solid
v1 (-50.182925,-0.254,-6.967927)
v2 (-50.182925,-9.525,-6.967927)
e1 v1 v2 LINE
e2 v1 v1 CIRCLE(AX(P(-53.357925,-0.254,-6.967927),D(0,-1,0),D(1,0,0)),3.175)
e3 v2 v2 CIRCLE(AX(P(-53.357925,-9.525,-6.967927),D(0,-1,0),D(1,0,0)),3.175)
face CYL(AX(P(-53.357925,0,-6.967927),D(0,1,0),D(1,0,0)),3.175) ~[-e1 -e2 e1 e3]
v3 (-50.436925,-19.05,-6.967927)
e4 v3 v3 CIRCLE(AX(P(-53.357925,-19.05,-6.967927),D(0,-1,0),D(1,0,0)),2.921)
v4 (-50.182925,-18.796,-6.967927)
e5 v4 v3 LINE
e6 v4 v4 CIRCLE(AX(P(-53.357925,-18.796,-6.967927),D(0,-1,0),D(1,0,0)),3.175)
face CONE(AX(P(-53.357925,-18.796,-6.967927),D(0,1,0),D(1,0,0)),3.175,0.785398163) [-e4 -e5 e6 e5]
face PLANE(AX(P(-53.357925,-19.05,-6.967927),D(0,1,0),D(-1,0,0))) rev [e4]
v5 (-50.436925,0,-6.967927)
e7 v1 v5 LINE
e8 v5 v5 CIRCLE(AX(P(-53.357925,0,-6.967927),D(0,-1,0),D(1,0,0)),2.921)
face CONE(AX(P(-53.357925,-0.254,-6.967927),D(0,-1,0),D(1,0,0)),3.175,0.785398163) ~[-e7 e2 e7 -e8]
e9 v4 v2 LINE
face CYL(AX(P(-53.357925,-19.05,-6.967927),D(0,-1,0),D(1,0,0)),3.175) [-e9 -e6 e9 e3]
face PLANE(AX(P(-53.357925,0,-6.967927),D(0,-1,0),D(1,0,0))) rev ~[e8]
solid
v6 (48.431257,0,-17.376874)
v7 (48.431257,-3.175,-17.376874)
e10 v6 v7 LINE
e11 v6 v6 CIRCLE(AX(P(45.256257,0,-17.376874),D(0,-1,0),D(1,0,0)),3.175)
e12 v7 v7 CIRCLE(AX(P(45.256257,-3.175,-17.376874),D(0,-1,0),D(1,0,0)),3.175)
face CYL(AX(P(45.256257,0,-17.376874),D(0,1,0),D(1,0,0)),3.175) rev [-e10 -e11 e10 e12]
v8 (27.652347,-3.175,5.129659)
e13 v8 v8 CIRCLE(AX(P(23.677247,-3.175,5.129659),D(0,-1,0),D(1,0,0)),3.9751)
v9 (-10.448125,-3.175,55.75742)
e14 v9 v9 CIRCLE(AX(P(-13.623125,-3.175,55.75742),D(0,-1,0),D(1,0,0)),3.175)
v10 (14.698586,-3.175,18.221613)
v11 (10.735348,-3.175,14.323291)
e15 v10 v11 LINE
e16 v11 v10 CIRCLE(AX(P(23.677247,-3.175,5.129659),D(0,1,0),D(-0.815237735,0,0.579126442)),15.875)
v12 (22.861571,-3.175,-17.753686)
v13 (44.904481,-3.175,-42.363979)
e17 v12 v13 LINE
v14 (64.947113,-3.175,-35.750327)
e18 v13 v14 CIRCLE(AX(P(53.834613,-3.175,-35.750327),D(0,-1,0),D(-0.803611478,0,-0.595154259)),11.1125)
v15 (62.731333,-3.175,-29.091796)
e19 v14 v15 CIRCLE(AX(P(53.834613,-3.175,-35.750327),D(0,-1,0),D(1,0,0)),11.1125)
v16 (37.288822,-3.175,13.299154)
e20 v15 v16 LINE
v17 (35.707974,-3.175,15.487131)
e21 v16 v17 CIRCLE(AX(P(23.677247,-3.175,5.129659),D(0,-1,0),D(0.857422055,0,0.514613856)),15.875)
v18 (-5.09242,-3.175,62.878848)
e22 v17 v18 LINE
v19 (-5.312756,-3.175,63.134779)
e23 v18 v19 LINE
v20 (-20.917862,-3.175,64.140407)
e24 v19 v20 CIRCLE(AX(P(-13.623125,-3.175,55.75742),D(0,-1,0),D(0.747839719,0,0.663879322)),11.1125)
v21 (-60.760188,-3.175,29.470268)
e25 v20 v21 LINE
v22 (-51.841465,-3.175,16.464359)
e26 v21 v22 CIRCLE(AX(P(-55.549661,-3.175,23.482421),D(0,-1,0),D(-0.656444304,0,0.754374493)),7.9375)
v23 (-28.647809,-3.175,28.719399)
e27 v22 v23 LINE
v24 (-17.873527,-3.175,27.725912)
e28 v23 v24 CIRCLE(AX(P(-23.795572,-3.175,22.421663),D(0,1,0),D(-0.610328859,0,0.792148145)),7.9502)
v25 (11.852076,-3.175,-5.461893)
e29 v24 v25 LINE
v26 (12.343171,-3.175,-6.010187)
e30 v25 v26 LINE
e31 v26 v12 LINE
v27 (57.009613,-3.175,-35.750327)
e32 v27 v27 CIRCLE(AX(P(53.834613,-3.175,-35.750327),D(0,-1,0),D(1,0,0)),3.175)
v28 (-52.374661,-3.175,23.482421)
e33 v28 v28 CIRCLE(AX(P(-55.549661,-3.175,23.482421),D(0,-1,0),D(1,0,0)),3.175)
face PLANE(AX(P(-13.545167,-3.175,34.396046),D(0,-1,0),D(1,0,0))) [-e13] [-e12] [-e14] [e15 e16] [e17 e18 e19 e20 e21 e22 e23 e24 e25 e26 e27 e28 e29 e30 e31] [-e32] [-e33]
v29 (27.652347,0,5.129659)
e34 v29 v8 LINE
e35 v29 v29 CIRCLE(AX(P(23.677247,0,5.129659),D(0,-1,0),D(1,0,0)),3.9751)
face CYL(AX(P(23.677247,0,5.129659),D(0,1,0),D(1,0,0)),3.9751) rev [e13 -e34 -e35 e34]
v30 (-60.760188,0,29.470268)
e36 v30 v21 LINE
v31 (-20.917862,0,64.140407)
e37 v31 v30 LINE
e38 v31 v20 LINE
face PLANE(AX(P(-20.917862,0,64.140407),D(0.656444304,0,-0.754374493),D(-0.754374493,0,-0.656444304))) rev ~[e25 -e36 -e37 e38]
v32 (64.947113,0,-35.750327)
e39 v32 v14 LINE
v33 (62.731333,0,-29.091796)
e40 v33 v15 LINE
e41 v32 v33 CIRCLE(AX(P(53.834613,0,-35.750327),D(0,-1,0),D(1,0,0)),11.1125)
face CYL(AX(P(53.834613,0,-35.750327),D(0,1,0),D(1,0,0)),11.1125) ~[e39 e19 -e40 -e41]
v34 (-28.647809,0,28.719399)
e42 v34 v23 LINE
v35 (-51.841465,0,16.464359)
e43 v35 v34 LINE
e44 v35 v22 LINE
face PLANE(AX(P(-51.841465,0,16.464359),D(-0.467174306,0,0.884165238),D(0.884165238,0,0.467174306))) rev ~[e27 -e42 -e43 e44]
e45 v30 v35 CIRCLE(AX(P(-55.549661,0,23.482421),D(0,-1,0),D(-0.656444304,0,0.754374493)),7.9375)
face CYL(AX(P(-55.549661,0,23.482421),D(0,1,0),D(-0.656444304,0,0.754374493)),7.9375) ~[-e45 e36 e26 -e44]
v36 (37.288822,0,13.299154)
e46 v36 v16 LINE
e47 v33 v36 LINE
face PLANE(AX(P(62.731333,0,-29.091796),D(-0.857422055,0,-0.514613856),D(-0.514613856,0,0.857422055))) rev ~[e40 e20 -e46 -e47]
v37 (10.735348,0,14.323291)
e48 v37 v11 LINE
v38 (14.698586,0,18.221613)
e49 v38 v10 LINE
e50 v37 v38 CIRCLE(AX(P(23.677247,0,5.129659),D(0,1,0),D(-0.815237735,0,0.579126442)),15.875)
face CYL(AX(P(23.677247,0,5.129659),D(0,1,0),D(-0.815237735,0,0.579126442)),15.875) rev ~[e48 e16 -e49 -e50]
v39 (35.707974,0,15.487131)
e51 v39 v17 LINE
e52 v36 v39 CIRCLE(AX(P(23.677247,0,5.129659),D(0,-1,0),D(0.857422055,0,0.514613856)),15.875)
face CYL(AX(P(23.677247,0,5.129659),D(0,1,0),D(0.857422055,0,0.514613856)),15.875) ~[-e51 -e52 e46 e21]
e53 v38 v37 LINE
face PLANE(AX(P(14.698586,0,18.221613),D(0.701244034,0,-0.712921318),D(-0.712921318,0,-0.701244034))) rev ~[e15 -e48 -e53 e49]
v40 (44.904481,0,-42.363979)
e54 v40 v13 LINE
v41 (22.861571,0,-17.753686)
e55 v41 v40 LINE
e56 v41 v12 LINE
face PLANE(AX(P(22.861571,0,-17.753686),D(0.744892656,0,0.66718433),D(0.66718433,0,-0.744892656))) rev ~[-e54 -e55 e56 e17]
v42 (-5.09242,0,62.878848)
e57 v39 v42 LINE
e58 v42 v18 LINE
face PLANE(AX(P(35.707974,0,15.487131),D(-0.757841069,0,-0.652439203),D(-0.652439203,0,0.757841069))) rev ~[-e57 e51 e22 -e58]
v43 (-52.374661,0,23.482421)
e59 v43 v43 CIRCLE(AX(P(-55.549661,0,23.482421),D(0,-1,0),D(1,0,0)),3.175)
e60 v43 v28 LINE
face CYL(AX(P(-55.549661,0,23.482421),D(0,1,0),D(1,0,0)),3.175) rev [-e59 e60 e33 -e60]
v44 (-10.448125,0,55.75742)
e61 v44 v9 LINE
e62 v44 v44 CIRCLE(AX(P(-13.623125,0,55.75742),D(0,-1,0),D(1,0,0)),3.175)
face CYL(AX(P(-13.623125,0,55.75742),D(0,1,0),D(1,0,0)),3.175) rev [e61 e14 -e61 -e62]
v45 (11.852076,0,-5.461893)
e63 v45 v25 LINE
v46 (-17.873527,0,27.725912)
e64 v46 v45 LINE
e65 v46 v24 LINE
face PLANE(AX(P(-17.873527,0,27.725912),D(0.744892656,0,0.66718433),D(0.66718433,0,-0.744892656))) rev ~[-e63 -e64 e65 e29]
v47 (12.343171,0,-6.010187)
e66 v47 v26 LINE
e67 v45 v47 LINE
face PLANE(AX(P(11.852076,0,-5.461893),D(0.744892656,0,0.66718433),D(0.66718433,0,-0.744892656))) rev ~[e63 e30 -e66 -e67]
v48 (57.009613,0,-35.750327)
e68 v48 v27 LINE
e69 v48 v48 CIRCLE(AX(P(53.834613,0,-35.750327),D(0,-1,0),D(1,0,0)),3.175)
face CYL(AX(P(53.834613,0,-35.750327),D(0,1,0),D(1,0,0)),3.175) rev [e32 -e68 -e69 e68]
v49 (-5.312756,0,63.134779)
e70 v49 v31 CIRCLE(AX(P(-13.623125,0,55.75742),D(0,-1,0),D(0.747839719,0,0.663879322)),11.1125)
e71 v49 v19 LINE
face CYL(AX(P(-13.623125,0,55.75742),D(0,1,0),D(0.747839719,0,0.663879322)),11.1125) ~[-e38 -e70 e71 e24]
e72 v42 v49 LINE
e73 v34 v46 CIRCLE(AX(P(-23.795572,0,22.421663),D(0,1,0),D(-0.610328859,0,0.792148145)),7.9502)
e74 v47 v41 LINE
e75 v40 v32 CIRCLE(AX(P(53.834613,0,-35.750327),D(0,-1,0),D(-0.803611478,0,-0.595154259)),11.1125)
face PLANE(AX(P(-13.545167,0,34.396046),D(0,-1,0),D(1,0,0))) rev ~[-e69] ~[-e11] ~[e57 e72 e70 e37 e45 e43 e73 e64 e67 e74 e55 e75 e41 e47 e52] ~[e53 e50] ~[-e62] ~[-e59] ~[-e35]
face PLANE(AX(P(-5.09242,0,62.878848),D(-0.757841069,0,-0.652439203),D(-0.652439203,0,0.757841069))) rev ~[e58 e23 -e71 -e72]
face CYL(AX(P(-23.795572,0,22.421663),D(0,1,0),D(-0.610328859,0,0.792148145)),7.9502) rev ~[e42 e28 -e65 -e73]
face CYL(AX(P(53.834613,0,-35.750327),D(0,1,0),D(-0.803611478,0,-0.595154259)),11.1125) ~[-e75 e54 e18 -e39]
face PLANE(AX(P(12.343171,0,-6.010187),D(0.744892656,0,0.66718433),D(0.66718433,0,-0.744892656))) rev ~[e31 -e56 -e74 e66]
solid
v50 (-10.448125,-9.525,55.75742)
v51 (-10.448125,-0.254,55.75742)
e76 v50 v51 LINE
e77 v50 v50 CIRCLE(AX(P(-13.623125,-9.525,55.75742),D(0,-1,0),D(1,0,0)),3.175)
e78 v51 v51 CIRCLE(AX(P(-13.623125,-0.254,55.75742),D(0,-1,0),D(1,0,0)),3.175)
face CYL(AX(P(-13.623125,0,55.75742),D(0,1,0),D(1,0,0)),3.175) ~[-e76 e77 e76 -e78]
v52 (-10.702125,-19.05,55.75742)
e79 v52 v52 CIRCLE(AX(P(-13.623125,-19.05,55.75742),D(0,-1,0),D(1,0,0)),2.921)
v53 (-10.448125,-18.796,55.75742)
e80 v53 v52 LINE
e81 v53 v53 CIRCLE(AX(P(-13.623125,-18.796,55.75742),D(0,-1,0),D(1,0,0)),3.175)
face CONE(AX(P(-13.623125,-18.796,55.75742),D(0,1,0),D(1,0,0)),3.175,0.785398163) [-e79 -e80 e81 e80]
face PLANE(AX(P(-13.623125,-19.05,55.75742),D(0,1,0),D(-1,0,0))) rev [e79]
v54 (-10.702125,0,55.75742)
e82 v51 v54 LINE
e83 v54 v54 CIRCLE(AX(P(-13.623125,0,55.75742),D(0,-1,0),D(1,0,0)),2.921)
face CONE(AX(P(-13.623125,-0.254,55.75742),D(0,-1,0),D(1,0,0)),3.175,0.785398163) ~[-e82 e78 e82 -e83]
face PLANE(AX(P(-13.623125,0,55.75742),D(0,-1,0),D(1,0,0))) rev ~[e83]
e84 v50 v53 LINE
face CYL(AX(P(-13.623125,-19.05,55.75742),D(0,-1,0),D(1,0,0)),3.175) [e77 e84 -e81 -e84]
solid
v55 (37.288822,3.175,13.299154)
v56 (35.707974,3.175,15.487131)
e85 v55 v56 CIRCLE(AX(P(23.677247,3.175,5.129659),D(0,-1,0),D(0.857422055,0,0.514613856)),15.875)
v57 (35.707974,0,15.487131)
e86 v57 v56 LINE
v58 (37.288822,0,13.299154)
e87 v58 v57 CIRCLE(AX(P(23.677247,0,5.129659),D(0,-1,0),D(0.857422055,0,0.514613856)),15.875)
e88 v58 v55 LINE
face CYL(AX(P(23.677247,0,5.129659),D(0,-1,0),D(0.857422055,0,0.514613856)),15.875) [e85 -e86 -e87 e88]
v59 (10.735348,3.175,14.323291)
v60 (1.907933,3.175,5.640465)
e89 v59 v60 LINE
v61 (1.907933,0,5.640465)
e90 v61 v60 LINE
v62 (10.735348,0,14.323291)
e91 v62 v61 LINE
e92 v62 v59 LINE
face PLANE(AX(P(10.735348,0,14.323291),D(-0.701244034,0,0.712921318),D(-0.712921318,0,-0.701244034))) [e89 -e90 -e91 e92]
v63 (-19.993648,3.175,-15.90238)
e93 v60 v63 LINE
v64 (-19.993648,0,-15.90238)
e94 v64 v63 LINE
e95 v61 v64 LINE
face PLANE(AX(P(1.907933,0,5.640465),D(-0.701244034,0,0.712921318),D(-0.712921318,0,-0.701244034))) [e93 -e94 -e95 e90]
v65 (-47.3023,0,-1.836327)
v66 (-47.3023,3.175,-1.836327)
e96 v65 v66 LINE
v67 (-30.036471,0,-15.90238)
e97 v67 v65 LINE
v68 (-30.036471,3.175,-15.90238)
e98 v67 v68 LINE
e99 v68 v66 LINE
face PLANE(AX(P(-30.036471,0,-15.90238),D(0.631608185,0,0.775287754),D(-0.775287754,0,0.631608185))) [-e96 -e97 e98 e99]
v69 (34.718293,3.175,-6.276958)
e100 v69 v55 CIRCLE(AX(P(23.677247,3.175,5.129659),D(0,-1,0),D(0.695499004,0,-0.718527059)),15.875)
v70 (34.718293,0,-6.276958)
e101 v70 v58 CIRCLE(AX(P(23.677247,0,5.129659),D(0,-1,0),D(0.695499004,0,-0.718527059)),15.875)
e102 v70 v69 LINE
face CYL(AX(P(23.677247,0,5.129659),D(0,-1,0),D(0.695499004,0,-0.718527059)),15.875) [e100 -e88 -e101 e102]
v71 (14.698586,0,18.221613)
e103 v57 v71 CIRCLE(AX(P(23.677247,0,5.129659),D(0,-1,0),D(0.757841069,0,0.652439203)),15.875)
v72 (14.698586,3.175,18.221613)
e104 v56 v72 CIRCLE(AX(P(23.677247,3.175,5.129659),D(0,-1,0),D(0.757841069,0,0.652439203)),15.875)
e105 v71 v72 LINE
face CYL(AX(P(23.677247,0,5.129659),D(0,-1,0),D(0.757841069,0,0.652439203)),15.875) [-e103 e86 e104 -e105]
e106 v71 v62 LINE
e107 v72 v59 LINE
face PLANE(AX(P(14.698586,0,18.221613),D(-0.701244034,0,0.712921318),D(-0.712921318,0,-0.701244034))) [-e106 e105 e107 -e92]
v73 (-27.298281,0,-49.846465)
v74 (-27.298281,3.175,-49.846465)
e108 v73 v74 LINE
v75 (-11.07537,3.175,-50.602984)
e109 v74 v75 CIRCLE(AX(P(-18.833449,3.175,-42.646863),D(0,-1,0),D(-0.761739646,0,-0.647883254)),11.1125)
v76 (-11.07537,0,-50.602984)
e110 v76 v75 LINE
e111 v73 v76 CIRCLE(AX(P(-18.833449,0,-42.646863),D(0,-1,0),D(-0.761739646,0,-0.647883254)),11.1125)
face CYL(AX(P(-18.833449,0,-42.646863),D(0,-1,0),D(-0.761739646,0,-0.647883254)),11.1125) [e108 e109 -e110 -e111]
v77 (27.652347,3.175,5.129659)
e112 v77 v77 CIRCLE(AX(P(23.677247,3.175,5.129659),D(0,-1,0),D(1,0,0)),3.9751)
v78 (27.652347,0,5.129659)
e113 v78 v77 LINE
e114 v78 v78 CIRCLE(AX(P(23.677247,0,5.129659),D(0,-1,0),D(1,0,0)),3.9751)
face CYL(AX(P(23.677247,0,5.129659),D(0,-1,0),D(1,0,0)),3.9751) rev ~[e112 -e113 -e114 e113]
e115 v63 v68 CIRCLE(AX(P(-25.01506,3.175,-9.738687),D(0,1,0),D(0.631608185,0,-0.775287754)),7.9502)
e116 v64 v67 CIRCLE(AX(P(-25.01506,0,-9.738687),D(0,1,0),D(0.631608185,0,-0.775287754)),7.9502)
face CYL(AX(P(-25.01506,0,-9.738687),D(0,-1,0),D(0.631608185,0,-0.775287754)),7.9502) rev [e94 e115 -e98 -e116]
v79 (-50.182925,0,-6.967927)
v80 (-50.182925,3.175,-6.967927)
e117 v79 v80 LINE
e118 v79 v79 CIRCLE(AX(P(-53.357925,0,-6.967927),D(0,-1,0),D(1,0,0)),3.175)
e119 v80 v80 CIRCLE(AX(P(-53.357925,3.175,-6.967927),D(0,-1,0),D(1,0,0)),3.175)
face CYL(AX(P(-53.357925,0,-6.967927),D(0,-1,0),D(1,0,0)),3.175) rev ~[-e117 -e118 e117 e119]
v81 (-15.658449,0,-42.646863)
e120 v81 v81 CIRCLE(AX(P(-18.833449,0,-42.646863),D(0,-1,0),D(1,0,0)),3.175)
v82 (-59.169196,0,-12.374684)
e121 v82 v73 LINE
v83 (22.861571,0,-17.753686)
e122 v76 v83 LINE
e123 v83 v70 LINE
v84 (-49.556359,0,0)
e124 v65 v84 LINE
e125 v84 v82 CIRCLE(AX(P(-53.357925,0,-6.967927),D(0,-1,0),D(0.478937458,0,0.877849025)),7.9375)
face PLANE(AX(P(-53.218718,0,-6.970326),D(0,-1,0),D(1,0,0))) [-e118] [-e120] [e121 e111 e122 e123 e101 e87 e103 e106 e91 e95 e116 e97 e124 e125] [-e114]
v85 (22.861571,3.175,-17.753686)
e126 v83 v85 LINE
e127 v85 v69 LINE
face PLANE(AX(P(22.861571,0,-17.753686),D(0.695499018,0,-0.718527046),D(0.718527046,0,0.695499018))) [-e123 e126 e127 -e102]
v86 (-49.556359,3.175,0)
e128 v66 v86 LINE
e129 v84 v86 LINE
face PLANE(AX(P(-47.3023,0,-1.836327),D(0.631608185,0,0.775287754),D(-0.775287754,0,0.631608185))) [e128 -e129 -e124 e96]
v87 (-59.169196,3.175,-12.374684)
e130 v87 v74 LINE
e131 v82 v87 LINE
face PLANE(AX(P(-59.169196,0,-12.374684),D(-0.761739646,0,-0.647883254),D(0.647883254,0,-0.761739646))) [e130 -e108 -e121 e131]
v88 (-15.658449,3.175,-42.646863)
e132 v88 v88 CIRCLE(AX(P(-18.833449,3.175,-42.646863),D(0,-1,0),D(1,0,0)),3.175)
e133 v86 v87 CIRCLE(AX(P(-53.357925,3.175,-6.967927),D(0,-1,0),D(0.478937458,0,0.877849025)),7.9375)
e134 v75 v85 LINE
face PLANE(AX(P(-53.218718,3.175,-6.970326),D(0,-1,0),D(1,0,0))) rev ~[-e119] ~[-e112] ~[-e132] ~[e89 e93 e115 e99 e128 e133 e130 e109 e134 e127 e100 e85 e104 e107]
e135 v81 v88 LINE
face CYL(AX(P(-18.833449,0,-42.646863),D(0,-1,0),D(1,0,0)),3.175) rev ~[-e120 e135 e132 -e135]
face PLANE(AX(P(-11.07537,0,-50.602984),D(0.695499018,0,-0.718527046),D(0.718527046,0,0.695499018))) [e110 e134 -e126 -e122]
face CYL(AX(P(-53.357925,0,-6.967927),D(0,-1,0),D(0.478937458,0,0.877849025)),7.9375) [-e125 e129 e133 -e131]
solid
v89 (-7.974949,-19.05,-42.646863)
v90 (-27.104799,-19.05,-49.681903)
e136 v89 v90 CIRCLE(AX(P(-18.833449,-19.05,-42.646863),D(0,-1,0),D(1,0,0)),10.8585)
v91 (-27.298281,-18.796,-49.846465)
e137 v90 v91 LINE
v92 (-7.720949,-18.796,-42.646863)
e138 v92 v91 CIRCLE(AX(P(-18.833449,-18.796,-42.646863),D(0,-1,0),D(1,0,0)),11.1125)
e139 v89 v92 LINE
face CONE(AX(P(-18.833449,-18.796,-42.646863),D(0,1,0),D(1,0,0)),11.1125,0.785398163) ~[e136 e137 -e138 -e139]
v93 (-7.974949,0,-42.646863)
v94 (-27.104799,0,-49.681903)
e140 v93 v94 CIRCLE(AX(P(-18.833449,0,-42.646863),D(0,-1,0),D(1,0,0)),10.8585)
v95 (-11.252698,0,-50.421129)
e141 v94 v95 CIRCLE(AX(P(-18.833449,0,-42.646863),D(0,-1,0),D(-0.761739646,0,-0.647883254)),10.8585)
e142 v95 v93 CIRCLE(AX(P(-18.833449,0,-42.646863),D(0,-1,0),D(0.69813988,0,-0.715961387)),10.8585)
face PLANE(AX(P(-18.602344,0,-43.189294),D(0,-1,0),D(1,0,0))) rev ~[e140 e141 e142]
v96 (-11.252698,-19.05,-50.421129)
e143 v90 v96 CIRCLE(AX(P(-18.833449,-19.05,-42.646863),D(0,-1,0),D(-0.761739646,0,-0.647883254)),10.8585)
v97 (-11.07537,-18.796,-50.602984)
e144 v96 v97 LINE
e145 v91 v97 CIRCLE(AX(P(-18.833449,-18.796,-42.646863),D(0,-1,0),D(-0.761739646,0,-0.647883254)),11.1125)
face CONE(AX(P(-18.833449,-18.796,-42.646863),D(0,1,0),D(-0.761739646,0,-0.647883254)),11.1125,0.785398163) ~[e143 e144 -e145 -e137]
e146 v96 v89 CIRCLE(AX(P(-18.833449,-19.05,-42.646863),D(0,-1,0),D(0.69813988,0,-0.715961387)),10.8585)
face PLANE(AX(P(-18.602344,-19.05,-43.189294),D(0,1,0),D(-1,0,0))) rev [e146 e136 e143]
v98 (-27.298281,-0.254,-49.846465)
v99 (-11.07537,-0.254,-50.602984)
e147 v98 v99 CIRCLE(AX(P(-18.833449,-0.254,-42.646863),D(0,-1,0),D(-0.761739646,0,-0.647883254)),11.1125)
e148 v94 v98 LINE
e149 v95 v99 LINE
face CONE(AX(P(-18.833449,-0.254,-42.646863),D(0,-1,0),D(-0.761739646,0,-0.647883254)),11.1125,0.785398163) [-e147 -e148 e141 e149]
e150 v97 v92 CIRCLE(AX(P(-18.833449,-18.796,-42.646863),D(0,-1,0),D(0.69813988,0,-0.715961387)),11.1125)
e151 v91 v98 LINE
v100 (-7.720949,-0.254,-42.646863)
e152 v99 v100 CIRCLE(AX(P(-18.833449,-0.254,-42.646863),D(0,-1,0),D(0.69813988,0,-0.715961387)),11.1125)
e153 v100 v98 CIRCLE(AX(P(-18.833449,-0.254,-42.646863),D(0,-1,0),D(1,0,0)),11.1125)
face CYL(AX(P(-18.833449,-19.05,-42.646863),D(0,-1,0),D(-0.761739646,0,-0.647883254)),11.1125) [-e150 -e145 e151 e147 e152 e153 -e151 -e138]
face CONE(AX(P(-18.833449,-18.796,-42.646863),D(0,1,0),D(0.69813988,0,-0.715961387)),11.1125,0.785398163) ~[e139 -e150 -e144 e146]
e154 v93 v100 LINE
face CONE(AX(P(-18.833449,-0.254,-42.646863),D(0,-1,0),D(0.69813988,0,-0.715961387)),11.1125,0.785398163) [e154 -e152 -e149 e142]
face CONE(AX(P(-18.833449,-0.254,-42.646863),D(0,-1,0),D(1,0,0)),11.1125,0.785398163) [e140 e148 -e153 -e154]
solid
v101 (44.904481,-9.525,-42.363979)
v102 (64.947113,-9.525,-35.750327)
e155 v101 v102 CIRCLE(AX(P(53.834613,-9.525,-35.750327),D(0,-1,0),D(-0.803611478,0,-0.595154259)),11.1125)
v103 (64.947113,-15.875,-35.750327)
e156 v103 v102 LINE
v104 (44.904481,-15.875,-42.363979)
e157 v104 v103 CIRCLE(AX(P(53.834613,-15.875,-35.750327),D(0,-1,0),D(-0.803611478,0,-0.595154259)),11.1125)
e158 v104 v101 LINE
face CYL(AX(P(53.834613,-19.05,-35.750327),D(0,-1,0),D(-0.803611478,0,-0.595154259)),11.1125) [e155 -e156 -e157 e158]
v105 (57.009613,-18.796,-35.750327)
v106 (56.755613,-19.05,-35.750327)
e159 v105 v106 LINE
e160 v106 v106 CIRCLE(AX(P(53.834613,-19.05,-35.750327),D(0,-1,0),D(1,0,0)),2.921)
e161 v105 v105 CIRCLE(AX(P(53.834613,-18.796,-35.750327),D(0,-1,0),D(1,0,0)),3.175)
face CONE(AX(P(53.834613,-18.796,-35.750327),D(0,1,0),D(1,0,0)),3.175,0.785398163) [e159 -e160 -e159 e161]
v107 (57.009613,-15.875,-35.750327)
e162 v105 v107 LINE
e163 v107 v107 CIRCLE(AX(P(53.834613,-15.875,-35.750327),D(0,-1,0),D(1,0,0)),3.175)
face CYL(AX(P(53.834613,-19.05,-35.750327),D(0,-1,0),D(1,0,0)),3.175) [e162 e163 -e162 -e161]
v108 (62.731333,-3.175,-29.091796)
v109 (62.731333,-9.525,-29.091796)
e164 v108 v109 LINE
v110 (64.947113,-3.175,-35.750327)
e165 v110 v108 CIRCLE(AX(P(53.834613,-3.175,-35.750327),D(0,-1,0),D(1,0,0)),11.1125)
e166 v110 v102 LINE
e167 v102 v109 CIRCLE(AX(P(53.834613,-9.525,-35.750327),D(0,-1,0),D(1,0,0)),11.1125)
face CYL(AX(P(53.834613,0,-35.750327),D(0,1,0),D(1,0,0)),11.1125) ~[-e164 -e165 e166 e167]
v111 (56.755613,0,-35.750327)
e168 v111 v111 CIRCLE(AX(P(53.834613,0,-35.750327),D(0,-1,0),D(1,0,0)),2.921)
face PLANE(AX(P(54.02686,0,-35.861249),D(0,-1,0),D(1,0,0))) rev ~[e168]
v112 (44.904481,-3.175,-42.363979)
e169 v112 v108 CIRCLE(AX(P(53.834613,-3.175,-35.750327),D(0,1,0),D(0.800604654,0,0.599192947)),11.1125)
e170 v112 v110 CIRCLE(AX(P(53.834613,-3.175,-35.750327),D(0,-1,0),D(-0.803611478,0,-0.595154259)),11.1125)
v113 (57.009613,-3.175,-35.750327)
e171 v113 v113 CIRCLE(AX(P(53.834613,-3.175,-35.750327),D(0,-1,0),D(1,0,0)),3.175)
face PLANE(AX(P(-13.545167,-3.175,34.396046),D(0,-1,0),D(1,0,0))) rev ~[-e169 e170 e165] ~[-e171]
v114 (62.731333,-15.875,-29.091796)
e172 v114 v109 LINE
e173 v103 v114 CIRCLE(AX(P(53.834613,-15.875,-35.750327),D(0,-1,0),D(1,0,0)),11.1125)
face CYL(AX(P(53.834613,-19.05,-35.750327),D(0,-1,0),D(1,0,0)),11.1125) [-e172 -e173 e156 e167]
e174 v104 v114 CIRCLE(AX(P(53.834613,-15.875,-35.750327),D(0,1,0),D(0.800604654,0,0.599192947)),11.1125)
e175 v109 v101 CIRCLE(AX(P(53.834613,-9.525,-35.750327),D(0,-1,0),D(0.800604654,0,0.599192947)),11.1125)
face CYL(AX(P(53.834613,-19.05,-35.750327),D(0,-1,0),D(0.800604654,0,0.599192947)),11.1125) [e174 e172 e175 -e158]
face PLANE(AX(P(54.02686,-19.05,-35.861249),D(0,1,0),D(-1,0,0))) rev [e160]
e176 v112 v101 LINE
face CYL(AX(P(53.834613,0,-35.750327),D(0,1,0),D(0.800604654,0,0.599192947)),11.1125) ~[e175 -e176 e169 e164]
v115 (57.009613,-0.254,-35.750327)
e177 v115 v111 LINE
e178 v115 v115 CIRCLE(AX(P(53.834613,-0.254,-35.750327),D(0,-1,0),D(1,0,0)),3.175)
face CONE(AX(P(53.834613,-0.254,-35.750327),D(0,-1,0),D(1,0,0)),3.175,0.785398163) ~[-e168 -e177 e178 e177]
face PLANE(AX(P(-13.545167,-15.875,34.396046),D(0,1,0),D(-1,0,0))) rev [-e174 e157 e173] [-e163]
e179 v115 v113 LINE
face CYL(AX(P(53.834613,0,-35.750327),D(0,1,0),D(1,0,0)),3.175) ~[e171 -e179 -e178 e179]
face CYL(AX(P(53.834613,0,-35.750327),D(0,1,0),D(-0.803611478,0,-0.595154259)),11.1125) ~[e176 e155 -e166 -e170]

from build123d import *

# Parameters (mm, degrees)
F0_R     = 3.175
F0_R_2   = 3.9751
F2_DEPTH = 3.175
F3_DEPTH = 3.175
F4_DEPTH = 9.525
F6_SIZE  = 0.254


with BuildPart() as f2:
    # F0 (on Front) → F2 (new body)
    with BuildSketch(Plane.XZ):
        with BuildLine():
            ThreePointArc((-2.5106246191, 55.7574200842), (-18.2288215062, 45.6442992783), (-20.9178619526, 64.1404066335))
            Line((-20.9178619526, 64.1404066335), (-60.7601879257, 29.4702683695))
            ThreePointArc((-60.7601879257, 29.4702683695), (-52.2598777681, 30.7060785528), (-47.6121612589, 23.4824208343))
            ThreePointArc((-47.6121612589, 23.4824208343), (-48.751216127, 19.3854646423), (-51.8414652058, 16.4643592585))
            Line((-51.8414652058, 16.4643592585), (-28.6478088266, 28.7193992168))
            ThreePointArc((-28.6478088266, 28.7193992168), (-23.0655879888, 30.338278653), (-17.873526738, 27.7259118948))
            Line((-17.873526738, 27.7259118948), (1.9079331387, 5.6404648573))
            Line((1.9079331387, 5.6404648573), (10.7353477508, 14.3232909653))
            ThreePointArc((10.7353477508, 14.3232909653), (12.5449977515, 16.4472846117), (14.6985856273, 18.2216130469))
            ThreePointArc((14.6985856273, 18.2216130469), (25.7261792861, 20.8718790141), (35.7079737596, 15.487131045))
            Line((35.7079737596, 15.487131045), (-5.0924202882, 62.8788483026))
            ThreePointArc((-5.0924202882, 62.8788483026), (-3.1759932394, 59.5449129471), (-2.5106246191, 55.7574200842))
        make_face()
        with BuildLine():
            ThreePointArc((-47.6121612589, 23.4824208343), (-52.2598777681, 30.7060785528), (-60.7601879257, 29.4702683695))
            ThreePointArc((-60.7601879257, 29.4702683695), (-62.0958561284, 18.9934076932), (-51.8414652058, 16.4643592585))
            ThreePointArc((-51.8414652058, 16.4643592585), (-48.751216127, 19.3854646423), (-47.6121612589, 23.4824208343))
        make_face()
        with Locations((-55.5496612589, 23.4824208343)):
            Circle(F0_R, mode=Mode.SUBTRACT)
        with BuildLine():
            Line((-5.0924202882, 62.8788483026), (-5.3127557425, 63.1347790551))
            ThreePointArc((-5.3127557425, 63.1347790551), (-12.9084928507, 66.8469177142), (-20.9178619526, 64.1404066335))
            ThreePointArc((-20.9178619526, 64.1404066335), (-18.2288215062, 45.6442992783), (-2.5106246191, 55.7574200842))
            ThreePointArc((-2.5106246191, 55.7574200842), (-3.1759932394, 59.5449129471), (-5.0924202882, 62.8788483026))
        make_face()
        with Locations((-13.6231246191, 55.7574200842)):
            Circle(F0_R, mode=Mode.SUBTRACT)
        with BuildLine():
            ThreePointArc((37.2888219021, 13.2991536525), (36.5449865014, 14.4268033973), (35.7079737596, 15.487131045))
            ThreePointArc((35.7079737596, 15.487131045), (25.7261792861, 20.8718790141), (14.6985856273, 18.2216130469))
            Line((14.6985856273, 18.2216130469), (10.7353477508, 14.3232909653))
            ThreePointArc((10.7353477508, 14.3232909653), (7.8274736068, 4.2350553488), (11.8520761369, -5.4618928498))
            ThreePointArc((11.8520761369, -5.4618928498), (23.1117421056, -10.7352658082), (34.718293483, -6.2769583705))
            ThreePointArc((34.718293483, -6.2769583705), (38.2938852735, -1.0646535641), (39.5522467868, 5.1296586938))
            ThreePointArc((39.5522467868, 5.1296586938), (38.9759294091, 9.3682828836), (37.2888219021, 13.2991536525))
        make_face()
        with Locations((23.6772467868, 5.1296586938)):
            Circle(F0_R_2, mode=Mode.SUBTRACT)
        with BuildLine():
            Line((22.861570702, -17.7536858036), (34.718293483, -6.2769583705))
            ThreePointArc((34.718293483, -6.2769583705), (23.1117421056, -10.7352658082), (11.8520761369, -5.4618928498))
            Line((11.8520761369, -5.4618928498), (12.3431713564, -6.0101869358))
            Line((12.3431713564, -6.0101869358), (22.861570702, -17.7536858036))
        make_face()
        with BuildLine():
            ThreePointArc((11.8520761369, -5.4618928498), (7.8274736068, 4.2350553488), (10.7353477508, 14.3232909653))
            Line((10.7353477508, 14.3232909653), (1.9079331387, 5.6404648573))
            Line((1.9079331387, 5.6404648573), (11.8520761369, -5.4618928498))
        make_face()
        with BuildLine():
            Line((62.7313325952, -29.0917955033), (37.2888219021, 13.2991536525))
            ThreePointArc((37.2888219021, 13.2991536525), (38.9759294091, 9.3682828836), (39.5522467868, 5.1296586938))
            ThreePointArc((39.5522467868, 5.1296586938), (38.2938852735, -1.0646535641), (34.718293483, -6.2769583705))
            Line((34.718293483, -6.2769583705), (22.861570702, -17.7536858036))
            Line((22.861570702, -17.7536858036), (44.9044808209, -42.3639788264))
            ThreePointArc((44.9044808209, -42.3639788264), (47.1985006827, -26.8368729907), (62.7313325952, -29.0917955033))
        make_face()
        with Locations((45.2562570572, -17.3768736422)):
            Circle(F0_R, mode=Mode.SUBTRACT)
        with BuildLine():
            ThreePointArc((64.9471133741, -35.7503271246), (64.3786270453, -32.2415621064), (62.7313325952, -29.0917955033))
            ThreePointArc((62.7313325952, -29.0917955033), (47.1985006827, -26.8368729907), (44.9044808209, -42.3639788264))
            ThreePointArc((44.9044808209, -42.3639788264), (57.3168223176, -46.3031408311), (64.9471133741, -35.7503271246))
        make_face()
        with Locations((53.8346133741, -35.7503271246)):
            Circle(F0_R, mode=Mode.SUBTRACT)
    extrude(amount=F2_DEPTH)


with BuildPart() as f3:
    # F0 (on Front) → F3 (new body)
    with BuildSketch(Plane.XZ):
        with BuildLine():
            ThreePointArc((-45.4204246014, -6.9679266385), (-45.9057292748, -4.2350360326), (-47.3022995151, -1.8363273688))
            Line((-47.3022995151, -1.8363273688), (-49.556358528, 0))
            ThreePointArc((-49.556358528, 0), (-59.6263320396, -2.0985350504), (-59.1691962507, -12.3746842684))
            ThreePointArc((-59.1691962507, -12.3746842684), (-50.4530203401, -14.3547688247), (-45.4204246014, -6.9679266385))
        make_face()
        with Locations((-53.3579246014, -6.9679266385)):
            Circle(F0_R, mode=Mode.SUBTRACT)
        with BuildLine():
            ThreePointArc((-27.2982812561, -49.8464654343), (-19.3510928488, -53.7472997705), (-11.0753700137, -50.6029836833))
            ThreePointArc((-11.0753700137, -50.6029836833), (-8.5938372884, -46.9640376986), (-7.7209494347, -42.6468627726))
            ThreePointArc((-7.7209494347, -42.6468627726), (-22.6689554402, -32.2172630711), (-27.2982812561, -49.8464654343))
        make_face()
        with Locations((-18.8334494347, -42.6468627726)):
            Circle(F0_R, mode=Mode.SUBTRACT)
        with BuildLine():
            Line((12.3431713564, -6.0101869358), (11.8520761369, -5.4618928498))
            Line((11.8520761369, -5.4618928498), (1.9079331387, 5.6404648573))
            Line((1.9079331387, 5.6404648573), (-19.9936484697, -15.9023801261))
            ThreePointArc((-19.9936484697, -15.9023801261), (-25.0150598586, -17.6888874259), (-30.0364712475, -15.9023801261))
            Line((-30.0364712475, -15.9023801261), (-47.3022995151, -1.8363273688))
            ThreePointArc((-47.3022995151, -1.8363273688), (-45.9057292748, -4.2350360326), (-45.4204246014, -6.9679266385))
            ThreePointArc((-45.4204246014, -6.9679266385), (-50.4530203401, -14.3547688247), (-59.1691962507, -12.3746842684))
            Line((-59.1691962507, -12.3746842684), (-27.2982812561, -49.8464654343))
            ThreePointArc((-27.2982812561, -49.8464654343), (-22.6689554402, -32.2172630711), (-7.7209494347, -42.6468627726))
            ThreePointArc((-7.7209494347, -42.6468627726), (-8.5938372884, -46.9640376986), (-11.0753700137, -50.6029836833))
            Line((-11.0753700137, -50.6029836833), (22.861570702, -17.7536858036))
            Line((22.861570702, -17.7536858036), (12.3431713564, -6.0101869358))
        make_face()
        with BuildLine():
            Line((22.861570702, -17.7536858036), (34.718293483, -6.2769583705))
            ThreePointArc((34.718293483, -6.2769583705), (23.1117421056, -10.7352658082), (11.8520761369, -5.4618928498))
            Line((11.8520761369, -5.4618928498), (12.3431713564, -6.0101869358))
            Line((12.3431713564, -6.0101869358), (22.861570702, -17.7536858036))
        make_face()
        with BuildLine():
            ThreePointArc((37.2888219021, 13.2991536525), (36.5449865014, 14.4268033973), (35.7079737596, 15.487131045))
            ThreePointArc((35.7079737596, 15.487131045), (25.7261792861, 20.8718790141), (14.6985856273, 18.2216130469))
            Line((14.6985856273, 18.2216130469), (10.7353477508, 14.3232909653))
            ThreePointArc((10.7353477508, 14.3232909653), (7.8274736068, 4.2350553488), (11.8520761369, -5.4618928498))
            ThreePointArc((11.8520761369, -5.4618928498), (23.1117421056, -10.7352658082), (34.718293483, -6.2769583705))
            ThreePointArc((34.718293483, -6.2769583705), (38.2938852735, -1.0646535641), (39.5522467868, 5.1296586938))
            ThreePointArc((39.5522467868, 5.1296586938), (38.9759294091, 9.3682828836), (37.2888219021, 13.2991536525))
        make_face()
        with Locations((23.6772467868, 5.1296586938)):
            Circle(F0_R_2, mode=Mode.SUBTRACT)
        with BuildLine():
            ThreePointArc((11.8520761369, -5.4618928498), (7.8274736068, 4.2350553488), (10.7353477508, 14.3232909653))
            Line((10.7353477508, 14.3232909653), (1.9079331387, 5.6404648573))
            Line((1.9079331387, 5.6404648573), (11.8520761369, -5.4618928498))
        make_face()
    extrude(amount=-F3_DEPTH)


with BuildPart() as f4:
    # F0 (on Front) → F4 (new body, through all)
    with BuildSketch(Plane.XZ):
        with BuildLine():
            ThreePointArc((-27.2982812561, -49.8464654343), (-19.3510928488, -53.7472997705), (-11.0753700137, -50.6029836833))
            ThreePointArc((-11.0753700137, -50.6029836833), (-8.5938372884, -46.9640376986), (-7.7209494347, -42.6468627726))
            ThreePointArc((-7.7209494347, -42.6468627726), (-22.6689554402, -32.2172630711), (-27.2982812561, -49.8464654343))
        make_face()
        with Locations((-18.8334494347, -42.6468627726)):
            Circle(F0_R, mode=Mode.SUBTRACT)
        with BuildLine():
            ThreePointArc((64.9471133741, -35.7503271246), (64.3786270453, -32.2415621064), (62.7313325952, -29.0917955033))
            ThreePointArc((62.7313325952, -29.0917955033), (47.1985006827, -26.8368729907), (44.9044808209, -42.3639788264))
            ThreePointArc((44.9044808209, -42.3639788264), (57.3168223176, -46.3031408311), (64.9471133741, -35.7503271246))
        make_face()
        with Locations((53.8346133741, -35.7503271246)):
            Circle(F0_R, mode=Mode.SUBTRACT)
        with Locations((53.8346133741, -35.7503271246)):
            Circle(F0_R)
        with Locations((-18.8334494347, -42.6468627726)):
            Circle(F0_R)
        with Locations((-53.3579246014, -6.9679266385)):
            Circle(F0_R)
        with Locations((-13.6231246191, 55.7574200842)):
            Circle(F0_R)
    extrude(amount=F4_DEPTH)

    # F5: cut F2, F3
    add(f2.part, mode=Mode.SUBTRACT)
    add(f3.part, mode=Mode.SUBTRACT)

    # F6
    f6_edges = [f4.edges().sort_by_distance(p)[0] for p in [
        (50.659613, 0, -35.750327),
        (-16.798125, 0, 55.75742),
        (-56.532925, 0, -6.967927),
        (-26.591529, 0, -34.690742),
    ]]
    chamfer(f6_edges, length=F6_SIZE)

    # F7: F4 across plane


with BuildPart() as f4_1:
    add(f4.part)
    add(f4.part.mirror(Plane.XZ.offset(9.525)))


solid = Compound([f2.part, f3.part, f4_1.part])
